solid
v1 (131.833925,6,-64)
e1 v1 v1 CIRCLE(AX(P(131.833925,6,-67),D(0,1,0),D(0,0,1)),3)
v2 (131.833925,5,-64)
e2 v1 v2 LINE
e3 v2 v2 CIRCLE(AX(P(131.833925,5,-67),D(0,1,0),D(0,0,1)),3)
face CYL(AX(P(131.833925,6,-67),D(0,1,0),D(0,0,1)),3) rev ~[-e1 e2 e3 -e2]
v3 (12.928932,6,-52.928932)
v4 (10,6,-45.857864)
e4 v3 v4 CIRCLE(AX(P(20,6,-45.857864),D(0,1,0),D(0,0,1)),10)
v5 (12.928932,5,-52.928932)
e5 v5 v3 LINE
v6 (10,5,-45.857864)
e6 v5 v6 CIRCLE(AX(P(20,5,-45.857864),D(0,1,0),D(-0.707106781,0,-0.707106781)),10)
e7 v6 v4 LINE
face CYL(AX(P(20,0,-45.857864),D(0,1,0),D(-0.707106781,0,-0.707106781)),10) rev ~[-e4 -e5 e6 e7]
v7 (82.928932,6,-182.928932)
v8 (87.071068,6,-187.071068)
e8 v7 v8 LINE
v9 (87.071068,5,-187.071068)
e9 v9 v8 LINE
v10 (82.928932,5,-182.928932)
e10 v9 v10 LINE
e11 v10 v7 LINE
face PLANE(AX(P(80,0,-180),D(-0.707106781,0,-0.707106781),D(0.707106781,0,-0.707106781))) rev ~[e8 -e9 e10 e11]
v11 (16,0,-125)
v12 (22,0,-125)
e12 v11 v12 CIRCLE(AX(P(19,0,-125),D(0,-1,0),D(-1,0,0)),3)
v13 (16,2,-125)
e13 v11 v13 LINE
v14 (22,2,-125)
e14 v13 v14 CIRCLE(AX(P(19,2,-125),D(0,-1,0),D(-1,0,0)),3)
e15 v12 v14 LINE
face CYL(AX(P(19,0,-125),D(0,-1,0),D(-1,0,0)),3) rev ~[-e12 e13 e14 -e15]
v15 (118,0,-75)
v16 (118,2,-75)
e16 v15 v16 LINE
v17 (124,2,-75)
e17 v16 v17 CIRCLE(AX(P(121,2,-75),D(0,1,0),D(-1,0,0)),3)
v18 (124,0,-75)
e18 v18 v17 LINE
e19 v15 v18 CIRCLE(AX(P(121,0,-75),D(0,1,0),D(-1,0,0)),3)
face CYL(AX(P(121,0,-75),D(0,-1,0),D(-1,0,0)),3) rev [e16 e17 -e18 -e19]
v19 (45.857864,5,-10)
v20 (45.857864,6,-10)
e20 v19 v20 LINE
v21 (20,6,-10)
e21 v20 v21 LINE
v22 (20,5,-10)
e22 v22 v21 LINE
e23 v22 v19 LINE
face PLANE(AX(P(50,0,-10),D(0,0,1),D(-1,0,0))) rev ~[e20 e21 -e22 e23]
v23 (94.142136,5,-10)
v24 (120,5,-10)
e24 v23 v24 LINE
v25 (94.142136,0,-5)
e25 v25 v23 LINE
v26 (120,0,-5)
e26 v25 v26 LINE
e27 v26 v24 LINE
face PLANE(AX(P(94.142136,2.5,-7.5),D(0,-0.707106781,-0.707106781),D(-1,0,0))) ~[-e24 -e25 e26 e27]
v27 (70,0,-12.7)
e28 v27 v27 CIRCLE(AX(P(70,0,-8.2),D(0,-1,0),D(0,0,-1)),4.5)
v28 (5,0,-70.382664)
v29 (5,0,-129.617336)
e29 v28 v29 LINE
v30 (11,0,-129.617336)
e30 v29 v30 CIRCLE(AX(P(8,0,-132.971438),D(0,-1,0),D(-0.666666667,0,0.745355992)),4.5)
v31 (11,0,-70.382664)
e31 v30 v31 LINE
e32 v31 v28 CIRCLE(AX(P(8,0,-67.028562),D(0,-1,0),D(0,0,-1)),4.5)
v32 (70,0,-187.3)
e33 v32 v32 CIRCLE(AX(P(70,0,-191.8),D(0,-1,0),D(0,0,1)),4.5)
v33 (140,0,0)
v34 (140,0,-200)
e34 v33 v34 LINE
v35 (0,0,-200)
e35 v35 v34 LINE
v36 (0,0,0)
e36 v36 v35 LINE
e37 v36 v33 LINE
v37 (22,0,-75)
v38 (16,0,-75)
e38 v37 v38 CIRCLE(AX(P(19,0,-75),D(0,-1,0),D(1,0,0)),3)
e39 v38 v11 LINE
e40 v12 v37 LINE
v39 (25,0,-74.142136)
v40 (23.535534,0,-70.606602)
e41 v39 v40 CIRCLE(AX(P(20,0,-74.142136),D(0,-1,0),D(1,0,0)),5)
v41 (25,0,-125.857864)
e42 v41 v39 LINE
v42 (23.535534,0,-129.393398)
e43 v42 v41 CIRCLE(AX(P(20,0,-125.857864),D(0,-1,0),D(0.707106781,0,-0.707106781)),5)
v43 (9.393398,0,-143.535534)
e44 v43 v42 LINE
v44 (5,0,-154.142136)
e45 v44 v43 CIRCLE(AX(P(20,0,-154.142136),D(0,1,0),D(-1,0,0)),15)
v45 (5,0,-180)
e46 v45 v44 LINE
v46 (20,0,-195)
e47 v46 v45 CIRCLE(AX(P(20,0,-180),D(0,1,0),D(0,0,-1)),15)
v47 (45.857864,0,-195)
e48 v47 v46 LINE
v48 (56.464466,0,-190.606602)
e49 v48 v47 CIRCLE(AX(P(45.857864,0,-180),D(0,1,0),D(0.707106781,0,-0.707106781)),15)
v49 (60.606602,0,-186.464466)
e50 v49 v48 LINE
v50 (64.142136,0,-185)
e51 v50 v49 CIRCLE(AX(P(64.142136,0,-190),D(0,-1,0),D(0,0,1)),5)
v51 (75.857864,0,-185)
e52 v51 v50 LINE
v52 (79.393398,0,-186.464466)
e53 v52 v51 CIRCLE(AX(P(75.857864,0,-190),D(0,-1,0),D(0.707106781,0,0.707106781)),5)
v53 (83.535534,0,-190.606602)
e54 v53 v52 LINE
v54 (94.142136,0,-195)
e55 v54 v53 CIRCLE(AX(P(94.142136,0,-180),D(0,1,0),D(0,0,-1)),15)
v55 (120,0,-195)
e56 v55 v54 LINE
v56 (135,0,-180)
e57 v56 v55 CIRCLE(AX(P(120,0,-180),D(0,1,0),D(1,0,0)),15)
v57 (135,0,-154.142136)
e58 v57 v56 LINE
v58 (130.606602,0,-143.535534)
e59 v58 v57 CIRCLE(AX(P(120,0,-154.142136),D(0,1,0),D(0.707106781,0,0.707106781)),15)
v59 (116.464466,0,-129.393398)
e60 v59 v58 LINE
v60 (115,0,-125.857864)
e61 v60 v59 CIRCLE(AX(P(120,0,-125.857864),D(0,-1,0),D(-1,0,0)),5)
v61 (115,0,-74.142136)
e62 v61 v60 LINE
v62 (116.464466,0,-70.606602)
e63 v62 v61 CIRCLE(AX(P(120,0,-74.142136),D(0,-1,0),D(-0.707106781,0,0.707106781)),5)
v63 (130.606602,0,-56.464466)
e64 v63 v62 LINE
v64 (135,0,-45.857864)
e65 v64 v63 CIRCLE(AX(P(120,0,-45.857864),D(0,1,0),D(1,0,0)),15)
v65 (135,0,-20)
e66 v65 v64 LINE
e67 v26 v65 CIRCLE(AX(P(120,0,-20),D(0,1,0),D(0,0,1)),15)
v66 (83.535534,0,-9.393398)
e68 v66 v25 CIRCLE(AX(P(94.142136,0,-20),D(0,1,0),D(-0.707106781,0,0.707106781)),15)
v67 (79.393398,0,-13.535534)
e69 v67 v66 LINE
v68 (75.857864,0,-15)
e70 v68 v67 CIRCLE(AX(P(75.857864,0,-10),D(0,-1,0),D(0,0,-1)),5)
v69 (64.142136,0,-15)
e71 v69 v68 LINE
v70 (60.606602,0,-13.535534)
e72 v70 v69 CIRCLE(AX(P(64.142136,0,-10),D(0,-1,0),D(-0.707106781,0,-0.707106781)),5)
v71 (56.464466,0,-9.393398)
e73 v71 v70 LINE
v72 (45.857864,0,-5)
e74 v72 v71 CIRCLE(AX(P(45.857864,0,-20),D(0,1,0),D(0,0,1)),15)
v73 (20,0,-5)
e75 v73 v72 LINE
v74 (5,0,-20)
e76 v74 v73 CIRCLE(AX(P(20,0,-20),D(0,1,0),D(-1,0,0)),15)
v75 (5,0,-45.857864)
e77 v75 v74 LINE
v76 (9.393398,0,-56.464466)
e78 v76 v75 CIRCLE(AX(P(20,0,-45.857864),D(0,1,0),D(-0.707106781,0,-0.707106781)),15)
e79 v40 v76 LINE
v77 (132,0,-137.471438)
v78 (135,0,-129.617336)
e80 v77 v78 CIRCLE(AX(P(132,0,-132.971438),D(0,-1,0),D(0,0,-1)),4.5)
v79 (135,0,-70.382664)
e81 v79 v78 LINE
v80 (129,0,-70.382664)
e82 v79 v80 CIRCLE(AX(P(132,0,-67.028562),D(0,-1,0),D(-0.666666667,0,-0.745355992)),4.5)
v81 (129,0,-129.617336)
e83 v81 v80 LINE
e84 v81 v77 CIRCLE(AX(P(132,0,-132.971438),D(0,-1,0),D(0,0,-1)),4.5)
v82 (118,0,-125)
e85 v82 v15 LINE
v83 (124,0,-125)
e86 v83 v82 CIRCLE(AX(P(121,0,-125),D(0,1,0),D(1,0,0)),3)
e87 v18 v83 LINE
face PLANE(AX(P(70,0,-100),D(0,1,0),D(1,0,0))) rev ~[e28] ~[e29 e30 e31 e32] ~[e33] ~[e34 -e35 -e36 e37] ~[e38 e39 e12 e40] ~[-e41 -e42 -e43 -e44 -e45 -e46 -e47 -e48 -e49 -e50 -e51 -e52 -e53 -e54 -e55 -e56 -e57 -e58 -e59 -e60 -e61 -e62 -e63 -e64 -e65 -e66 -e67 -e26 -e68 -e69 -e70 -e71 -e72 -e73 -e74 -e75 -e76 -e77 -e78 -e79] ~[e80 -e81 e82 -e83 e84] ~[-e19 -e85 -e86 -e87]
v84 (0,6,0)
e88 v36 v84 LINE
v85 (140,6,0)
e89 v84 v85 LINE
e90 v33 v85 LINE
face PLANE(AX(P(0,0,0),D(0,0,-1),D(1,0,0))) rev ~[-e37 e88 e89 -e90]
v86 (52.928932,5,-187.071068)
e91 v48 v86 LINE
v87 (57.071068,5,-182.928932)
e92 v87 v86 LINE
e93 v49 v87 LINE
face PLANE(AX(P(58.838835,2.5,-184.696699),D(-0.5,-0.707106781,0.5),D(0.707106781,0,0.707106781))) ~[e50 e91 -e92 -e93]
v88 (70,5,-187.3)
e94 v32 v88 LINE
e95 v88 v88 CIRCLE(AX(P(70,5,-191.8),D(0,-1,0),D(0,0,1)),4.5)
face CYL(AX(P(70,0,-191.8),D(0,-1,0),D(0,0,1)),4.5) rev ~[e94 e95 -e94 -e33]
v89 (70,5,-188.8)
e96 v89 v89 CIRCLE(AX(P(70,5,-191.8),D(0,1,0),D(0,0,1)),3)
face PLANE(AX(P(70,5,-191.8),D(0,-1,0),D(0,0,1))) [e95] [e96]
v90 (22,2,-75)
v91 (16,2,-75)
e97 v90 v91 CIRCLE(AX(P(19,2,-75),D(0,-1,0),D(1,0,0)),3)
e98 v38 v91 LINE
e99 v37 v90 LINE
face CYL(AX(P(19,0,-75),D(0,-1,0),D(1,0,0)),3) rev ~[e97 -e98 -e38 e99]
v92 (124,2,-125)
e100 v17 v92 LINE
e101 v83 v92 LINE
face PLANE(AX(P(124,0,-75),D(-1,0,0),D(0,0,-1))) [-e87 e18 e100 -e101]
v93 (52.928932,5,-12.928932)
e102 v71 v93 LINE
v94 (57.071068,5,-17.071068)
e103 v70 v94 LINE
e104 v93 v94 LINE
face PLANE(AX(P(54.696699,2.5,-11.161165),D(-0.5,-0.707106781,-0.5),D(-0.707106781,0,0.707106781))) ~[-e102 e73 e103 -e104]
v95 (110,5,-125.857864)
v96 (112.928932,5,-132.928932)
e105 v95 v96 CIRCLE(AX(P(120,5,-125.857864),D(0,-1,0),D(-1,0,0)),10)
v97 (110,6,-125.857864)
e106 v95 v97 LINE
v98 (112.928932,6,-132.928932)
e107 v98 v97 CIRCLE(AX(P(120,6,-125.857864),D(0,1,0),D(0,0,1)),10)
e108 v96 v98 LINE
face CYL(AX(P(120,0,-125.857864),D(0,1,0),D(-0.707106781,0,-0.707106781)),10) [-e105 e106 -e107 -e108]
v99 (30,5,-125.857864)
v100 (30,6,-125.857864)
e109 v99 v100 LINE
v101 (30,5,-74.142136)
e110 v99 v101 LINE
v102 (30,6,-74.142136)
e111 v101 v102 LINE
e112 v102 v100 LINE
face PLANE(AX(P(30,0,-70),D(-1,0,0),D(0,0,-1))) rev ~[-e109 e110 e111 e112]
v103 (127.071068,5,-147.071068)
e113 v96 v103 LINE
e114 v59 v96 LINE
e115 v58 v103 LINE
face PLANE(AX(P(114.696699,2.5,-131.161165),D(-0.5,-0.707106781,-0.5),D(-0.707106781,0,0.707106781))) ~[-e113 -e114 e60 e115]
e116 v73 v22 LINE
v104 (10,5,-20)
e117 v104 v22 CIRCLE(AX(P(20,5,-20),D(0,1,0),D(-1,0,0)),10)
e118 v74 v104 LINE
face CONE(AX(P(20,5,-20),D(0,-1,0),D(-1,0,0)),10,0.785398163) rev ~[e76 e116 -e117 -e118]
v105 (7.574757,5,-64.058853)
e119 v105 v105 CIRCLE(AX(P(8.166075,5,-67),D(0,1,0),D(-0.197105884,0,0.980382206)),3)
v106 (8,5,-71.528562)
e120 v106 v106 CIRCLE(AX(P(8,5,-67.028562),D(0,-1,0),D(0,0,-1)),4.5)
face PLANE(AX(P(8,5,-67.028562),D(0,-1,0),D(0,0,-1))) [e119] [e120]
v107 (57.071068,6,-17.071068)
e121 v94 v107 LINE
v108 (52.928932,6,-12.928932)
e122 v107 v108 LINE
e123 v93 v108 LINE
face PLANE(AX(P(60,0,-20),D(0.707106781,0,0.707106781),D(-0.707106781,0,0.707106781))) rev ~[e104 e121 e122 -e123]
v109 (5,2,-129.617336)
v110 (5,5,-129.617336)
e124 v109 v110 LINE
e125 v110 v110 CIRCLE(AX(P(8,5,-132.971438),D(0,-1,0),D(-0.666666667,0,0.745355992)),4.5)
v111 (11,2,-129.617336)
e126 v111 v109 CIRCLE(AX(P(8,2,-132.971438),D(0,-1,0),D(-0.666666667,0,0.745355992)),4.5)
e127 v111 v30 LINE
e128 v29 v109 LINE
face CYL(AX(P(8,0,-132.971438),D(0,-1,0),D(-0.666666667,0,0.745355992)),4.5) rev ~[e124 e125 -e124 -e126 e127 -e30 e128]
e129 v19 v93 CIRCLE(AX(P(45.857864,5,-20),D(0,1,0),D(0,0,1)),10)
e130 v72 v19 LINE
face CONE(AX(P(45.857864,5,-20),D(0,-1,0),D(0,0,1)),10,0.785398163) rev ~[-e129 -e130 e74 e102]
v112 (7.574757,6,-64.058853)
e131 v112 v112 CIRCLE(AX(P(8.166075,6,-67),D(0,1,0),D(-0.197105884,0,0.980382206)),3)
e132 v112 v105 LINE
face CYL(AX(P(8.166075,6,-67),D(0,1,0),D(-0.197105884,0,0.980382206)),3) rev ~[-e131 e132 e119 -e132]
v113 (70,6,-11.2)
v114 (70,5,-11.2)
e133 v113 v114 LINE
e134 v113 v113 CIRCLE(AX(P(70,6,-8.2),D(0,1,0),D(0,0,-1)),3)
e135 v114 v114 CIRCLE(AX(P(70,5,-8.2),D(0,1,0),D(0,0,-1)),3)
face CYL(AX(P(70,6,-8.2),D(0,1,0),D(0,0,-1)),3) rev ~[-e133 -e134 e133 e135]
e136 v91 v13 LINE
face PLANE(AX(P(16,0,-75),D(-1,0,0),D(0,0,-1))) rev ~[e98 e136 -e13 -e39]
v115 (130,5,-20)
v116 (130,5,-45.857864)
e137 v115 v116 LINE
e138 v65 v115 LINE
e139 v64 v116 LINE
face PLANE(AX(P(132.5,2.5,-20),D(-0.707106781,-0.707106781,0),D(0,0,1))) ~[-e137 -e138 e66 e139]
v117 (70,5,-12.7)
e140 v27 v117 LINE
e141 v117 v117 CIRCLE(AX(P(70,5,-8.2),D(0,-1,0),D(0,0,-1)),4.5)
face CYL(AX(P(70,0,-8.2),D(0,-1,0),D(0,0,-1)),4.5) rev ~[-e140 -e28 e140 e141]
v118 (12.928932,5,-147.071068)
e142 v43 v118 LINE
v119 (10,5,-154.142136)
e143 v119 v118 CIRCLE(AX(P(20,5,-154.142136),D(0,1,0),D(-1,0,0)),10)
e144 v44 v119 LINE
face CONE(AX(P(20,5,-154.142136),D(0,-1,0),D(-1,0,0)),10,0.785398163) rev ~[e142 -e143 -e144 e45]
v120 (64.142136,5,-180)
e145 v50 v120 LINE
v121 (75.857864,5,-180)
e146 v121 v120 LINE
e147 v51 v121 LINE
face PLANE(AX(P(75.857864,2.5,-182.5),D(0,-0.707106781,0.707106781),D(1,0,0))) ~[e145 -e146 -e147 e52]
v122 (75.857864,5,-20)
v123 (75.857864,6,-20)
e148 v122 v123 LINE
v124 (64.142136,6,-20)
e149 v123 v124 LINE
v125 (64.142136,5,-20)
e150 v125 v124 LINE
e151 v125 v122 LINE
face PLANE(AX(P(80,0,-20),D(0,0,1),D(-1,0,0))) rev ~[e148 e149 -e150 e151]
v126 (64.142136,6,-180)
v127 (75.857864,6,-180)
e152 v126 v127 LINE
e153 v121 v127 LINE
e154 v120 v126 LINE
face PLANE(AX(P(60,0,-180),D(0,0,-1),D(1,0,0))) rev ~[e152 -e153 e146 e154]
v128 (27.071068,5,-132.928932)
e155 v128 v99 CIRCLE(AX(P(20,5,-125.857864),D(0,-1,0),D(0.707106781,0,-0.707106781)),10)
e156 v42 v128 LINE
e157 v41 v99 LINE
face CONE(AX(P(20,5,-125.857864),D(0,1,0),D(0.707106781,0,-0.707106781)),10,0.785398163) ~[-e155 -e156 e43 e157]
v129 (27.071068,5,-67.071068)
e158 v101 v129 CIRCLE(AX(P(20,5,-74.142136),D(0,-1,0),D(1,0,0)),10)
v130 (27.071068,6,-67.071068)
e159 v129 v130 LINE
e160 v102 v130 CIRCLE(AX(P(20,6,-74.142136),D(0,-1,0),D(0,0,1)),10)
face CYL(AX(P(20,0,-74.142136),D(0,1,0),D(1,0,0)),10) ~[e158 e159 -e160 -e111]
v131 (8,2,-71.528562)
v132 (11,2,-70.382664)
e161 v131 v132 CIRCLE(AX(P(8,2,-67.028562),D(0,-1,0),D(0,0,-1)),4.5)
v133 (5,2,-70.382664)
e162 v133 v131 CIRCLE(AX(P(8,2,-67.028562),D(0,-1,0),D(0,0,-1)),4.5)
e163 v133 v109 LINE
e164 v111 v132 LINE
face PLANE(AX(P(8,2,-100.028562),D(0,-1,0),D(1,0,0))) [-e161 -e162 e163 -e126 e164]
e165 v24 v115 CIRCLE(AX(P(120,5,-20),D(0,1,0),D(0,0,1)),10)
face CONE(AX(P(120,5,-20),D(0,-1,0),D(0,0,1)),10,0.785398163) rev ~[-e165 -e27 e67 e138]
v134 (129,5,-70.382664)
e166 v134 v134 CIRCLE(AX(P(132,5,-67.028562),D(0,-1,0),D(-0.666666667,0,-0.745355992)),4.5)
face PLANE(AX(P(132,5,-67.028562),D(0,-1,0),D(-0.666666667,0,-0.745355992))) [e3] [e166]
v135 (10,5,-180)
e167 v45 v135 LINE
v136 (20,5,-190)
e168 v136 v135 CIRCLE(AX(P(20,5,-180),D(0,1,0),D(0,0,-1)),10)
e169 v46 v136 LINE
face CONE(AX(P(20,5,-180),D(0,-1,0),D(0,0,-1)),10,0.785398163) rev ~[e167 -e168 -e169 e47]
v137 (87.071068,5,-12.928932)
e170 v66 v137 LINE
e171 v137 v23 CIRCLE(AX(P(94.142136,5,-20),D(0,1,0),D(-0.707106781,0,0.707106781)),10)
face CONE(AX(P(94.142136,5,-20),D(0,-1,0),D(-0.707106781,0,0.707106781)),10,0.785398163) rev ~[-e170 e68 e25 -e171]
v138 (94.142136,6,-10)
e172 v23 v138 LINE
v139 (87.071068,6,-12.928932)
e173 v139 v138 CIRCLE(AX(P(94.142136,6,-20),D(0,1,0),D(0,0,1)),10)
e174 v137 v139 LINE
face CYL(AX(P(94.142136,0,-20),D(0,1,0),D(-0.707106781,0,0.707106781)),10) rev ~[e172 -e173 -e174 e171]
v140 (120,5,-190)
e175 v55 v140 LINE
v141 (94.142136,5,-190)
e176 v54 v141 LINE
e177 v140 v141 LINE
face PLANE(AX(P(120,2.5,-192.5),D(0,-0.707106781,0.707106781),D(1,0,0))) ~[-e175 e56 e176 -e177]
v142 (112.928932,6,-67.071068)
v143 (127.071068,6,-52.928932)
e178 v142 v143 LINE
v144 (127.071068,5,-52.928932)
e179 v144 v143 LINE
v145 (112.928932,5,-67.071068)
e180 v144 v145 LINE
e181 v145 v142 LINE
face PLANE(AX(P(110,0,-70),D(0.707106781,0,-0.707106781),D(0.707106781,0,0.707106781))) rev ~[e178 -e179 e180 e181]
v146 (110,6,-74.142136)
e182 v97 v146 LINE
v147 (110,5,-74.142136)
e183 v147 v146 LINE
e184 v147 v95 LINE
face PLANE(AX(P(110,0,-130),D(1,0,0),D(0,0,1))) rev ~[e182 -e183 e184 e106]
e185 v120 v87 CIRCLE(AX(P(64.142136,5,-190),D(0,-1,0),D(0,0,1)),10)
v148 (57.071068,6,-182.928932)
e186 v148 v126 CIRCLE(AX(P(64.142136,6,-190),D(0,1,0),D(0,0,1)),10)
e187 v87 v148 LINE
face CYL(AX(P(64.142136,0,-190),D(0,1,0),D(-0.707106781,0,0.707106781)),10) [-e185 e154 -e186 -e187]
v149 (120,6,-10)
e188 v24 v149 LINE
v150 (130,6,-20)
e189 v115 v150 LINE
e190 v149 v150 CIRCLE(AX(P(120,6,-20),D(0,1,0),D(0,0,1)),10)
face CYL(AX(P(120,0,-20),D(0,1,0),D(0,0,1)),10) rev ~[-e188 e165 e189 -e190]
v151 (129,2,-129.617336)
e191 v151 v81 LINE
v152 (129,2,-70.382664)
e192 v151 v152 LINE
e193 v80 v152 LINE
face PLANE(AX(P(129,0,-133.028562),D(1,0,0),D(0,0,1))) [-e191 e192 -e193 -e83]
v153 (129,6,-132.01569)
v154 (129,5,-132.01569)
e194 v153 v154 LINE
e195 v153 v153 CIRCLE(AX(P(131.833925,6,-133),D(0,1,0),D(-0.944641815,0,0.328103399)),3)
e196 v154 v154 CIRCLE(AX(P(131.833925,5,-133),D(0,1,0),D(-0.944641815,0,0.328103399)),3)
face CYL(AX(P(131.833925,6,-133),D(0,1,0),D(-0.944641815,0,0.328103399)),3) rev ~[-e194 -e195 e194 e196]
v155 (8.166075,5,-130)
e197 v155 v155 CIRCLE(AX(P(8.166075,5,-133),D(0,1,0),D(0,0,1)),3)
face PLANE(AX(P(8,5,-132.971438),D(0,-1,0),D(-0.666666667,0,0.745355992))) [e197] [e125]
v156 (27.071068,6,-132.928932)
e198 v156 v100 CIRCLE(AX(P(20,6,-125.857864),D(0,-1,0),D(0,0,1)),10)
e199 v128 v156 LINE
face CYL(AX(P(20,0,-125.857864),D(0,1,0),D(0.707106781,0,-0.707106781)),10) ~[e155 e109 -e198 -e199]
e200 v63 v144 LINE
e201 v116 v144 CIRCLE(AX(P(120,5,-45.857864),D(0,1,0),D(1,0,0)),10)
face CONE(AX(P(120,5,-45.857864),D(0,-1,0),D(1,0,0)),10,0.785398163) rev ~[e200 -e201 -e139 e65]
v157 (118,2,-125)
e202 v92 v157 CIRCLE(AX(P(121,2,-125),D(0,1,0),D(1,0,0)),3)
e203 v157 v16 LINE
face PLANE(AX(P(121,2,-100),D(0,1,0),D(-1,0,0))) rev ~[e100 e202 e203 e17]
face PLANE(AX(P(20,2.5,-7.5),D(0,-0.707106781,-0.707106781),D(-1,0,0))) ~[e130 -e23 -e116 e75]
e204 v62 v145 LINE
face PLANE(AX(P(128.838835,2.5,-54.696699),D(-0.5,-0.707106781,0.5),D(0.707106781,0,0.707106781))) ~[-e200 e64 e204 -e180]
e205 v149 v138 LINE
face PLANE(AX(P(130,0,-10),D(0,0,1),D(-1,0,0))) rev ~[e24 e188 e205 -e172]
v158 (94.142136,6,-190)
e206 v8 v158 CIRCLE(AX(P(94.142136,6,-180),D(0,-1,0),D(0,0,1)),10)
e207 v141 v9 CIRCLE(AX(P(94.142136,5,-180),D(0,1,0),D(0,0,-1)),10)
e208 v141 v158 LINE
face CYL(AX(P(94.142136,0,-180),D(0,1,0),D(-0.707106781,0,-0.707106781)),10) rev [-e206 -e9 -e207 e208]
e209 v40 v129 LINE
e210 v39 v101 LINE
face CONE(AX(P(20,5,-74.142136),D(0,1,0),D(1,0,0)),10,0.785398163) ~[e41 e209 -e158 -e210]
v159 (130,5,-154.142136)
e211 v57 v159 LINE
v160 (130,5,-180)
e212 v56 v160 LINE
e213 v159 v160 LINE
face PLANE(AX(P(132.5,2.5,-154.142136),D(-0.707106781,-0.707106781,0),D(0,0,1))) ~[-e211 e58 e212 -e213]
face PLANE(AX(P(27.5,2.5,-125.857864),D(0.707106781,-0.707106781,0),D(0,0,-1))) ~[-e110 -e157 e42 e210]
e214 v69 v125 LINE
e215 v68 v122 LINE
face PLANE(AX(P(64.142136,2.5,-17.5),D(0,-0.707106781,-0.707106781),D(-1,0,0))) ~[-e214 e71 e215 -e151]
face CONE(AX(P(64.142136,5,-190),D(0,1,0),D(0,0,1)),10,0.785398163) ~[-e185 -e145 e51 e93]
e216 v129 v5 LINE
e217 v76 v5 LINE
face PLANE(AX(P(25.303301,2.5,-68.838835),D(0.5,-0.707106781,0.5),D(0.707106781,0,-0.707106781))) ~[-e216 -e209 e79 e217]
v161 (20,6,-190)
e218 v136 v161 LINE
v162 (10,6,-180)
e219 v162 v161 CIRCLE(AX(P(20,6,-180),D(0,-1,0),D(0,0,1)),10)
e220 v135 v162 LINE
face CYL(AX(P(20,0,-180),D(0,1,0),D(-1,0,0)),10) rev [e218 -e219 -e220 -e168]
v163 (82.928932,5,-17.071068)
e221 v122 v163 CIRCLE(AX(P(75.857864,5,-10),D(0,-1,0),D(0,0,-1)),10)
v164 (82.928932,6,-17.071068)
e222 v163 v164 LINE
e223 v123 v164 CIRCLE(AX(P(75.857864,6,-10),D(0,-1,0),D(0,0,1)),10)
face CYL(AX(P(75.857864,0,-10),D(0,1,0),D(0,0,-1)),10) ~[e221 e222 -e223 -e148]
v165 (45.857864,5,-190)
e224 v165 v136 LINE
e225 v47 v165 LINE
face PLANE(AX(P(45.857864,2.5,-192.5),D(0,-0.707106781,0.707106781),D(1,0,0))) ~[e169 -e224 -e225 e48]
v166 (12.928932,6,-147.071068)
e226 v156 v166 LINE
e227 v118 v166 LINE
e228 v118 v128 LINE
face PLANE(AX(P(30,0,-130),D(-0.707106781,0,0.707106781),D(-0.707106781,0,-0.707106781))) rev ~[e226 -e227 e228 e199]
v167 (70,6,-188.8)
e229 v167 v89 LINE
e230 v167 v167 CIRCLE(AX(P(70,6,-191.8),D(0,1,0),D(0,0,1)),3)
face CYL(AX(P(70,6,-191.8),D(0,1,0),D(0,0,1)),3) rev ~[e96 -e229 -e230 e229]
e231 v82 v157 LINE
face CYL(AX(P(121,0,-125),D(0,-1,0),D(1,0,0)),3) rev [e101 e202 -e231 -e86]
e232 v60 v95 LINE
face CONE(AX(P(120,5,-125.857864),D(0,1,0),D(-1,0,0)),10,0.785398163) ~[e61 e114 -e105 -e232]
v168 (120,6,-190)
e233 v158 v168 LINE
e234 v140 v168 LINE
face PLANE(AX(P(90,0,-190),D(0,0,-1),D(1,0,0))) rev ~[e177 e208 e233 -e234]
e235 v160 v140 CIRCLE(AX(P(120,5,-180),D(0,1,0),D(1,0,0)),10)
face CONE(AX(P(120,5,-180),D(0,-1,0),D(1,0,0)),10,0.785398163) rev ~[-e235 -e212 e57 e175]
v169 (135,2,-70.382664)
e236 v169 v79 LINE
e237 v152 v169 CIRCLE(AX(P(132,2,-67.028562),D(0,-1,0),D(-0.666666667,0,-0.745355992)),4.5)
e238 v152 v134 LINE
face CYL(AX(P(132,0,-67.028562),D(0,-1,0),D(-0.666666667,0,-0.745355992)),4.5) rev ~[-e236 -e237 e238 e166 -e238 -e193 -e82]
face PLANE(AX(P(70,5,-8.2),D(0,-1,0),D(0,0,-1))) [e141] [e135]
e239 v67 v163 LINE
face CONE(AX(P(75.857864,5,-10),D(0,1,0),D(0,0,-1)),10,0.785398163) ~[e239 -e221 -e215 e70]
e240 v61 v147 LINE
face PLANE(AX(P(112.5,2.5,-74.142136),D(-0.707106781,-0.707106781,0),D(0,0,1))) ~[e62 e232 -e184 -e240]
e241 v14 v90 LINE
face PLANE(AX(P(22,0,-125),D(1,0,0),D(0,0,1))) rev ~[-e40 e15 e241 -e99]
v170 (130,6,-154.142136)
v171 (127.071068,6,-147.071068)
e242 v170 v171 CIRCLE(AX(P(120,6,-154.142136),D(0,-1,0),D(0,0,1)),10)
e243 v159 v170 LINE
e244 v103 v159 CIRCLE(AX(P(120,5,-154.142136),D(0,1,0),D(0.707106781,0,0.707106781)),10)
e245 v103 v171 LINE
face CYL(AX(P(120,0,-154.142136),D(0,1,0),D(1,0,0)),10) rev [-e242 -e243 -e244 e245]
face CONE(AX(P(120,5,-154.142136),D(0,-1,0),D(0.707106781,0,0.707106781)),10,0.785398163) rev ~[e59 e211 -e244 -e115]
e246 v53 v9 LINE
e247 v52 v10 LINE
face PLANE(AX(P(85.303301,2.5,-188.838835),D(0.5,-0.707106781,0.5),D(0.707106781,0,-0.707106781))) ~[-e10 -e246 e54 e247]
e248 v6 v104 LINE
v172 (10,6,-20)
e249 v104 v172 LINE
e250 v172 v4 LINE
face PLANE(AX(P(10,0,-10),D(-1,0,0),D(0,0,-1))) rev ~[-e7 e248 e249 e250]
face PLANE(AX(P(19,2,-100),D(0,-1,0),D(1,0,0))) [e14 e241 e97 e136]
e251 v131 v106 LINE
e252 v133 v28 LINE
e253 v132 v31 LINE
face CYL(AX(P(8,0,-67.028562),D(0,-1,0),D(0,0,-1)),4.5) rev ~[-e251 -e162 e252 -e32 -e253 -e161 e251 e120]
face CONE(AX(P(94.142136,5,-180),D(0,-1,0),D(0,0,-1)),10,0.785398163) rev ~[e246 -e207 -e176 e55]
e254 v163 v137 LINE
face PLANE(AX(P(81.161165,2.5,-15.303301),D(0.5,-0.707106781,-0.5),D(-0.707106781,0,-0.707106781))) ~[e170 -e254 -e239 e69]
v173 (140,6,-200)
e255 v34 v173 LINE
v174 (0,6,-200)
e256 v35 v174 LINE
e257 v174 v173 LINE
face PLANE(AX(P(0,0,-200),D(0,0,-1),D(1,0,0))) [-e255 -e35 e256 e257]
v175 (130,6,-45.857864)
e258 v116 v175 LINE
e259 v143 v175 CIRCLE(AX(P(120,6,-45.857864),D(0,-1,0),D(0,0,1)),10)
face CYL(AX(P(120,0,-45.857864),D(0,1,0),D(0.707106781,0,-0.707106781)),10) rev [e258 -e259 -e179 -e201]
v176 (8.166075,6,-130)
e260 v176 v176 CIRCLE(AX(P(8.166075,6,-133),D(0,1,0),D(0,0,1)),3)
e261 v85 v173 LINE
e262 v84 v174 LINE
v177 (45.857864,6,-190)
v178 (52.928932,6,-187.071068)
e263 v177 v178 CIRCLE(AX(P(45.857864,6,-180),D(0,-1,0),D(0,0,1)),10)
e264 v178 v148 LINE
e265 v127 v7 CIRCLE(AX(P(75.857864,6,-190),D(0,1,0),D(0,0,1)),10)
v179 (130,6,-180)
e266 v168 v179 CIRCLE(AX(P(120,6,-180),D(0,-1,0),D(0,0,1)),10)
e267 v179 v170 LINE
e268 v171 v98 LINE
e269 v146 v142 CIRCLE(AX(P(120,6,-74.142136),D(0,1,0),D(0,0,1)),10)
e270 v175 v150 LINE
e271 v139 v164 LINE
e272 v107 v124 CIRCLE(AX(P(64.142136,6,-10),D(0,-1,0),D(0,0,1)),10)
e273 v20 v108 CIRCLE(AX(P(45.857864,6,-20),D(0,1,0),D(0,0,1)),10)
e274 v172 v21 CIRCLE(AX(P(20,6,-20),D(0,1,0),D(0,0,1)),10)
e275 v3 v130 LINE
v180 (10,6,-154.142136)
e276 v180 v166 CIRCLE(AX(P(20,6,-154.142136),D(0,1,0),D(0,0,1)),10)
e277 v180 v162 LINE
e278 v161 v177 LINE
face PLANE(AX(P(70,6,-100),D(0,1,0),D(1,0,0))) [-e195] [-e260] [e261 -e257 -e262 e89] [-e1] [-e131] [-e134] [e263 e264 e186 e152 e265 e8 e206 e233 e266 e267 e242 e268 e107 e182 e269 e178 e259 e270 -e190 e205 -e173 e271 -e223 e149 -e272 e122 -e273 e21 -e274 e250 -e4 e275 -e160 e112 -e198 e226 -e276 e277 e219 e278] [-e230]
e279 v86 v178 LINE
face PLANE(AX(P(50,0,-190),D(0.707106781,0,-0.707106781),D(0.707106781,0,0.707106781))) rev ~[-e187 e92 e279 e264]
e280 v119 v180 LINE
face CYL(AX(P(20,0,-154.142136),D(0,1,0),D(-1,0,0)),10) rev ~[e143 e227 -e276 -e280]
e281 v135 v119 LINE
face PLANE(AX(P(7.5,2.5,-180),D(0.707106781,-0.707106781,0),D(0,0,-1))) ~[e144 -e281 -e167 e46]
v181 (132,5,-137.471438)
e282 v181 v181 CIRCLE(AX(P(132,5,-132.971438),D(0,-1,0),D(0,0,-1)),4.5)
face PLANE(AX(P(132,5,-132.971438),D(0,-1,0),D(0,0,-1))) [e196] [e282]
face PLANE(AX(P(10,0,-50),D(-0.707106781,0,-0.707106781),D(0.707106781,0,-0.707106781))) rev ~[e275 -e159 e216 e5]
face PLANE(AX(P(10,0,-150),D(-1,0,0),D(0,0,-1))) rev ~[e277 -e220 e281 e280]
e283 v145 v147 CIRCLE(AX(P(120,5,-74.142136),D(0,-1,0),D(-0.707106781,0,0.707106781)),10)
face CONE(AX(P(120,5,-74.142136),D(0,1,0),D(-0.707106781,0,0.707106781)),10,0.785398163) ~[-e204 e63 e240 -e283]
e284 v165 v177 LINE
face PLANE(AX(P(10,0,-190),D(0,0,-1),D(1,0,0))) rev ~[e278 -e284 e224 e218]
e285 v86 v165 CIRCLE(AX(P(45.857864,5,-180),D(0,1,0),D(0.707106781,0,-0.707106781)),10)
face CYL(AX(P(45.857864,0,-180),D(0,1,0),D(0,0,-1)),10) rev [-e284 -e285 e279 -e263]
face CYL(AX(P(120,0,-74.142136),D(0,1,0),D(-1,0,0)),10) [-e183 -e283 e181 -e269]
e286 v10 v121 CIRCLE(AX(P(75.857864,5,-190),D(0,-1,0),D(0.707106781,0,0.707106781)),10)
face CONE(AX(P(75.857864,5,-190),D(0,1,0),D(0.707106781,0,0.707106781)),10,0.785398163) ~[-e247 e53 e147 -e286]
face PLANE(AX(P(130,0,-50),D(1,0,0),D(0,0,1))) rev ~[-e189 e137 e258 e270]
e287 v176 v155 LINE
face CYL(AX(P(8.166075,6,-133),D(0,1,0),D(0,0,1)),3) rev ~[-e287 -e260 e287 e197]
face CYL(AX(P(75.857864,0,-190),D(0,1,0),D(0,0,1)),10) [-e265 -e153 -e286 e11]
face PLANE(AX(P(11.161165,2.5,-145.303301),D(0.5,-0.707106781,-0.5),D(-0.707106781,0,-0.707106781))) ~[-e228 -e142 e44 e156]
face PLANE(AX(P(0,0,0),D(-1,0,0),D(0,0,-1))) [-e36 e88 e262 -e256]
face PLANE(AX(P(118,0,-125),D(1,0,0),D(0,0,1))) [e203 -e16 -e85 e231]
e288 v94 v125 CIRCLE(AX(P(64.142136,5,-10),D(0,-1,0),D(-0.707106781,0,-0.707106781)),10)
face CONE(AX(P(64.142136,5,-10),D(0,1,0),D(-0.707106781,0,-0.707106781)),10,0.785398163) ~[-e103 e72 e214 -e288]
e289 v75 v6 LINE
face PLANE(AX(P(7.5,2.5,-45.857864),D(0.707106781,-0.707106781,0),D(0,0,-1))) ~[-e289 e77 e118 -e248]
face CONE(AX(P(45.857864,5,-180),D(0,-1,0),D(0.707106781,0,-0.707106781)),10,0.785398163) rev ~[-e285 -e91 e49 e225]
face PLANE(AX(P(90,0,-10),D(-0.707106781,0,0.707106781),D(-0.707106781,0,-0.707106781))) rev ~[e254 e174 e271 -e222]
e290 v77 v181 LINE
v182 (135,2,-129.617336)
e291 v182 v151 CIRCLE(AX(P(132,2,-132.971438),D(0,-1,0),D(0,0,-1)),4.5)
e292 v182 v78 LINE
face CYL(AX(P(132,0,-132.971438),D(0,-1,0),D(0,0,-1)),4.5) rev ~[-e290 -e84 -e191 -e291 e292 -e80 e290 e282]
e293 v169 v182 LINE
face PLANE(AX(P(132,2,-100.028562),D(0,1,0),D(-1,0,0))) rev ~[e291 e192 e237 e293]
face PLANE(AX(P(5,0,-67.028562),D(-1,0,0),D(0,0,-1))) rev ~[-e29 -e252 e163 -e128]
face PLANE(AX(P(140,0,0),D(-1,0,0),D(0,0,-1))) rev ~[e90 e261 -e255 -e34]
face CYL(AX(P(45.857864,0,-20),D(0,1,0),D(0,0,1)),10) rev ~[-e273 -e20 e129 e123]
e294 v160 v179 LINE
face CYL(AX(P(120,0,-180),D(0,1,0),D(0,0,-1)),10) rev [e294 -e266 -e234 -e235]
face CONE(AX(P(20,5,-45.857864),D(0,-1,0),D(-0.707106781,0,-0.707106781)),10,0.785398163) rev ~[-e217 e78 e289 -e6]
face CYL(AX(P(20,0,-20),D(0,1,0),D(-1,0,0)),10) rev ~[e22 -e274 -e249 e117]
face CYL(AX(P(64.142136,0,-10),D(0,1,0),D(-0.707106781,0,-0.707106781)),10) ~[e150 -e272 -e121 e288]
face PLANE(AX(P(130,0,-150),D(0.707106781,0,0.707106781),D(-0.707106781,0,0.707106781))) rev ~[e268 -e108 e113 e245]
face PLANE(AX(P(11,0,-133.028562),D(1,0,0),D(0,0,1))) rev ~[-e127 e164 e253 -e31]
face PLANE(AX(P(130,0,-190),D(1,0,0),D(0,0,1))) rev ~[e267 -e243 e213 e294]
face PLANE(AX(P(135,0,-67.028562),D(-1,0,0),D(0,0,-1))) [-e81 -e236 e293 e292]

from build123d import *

# Parameters (mm, degrees)
SKETCH1_W           = 140
SKETCH1_H           = 200
BOSS_EXTRUDE1_DEPTH = 6
FILLET1_R           = 10
FILLET2_R           = 10
CHAMFER4_SIZE       = 5
CUT_EXTRUDE1_DEPTH  = 2
SKETCH7_R           = 3
CUT_EXTRUDE3_DEPTH  = 10
SKETCH8_R           = 4.5
CUT_EXTRUDE4_DEPTH  = 5


with BuildPart() as part:
    # Sketch1 → Boss-Extrude1 (new body)
    with BuildSketch(Plane(origin=(0, 0, 0), x_dir=(1, 0, 0), z_dir=(0, 1, 0))):
        with Locations((70, 100)):
            Rectangle(SKETCH1_W, SKETCH1_H)
        Polygon((10, 190), (50, 190), (60, 180), (80, 180), (90, 190), (130, 190), (130, 150), (110, 130), (110, 70), (130, 50), (130, 10), (90, 10), (80, 20), (60, 20), (50, 10), (10, 10), (10, 50), (30, 70), (30, 130), (10, 150), align=None, mode=Mode.SUBTRACT)
    extrude(amount=BOSS_EXTRUDE1_DEPTH)

    # Fillet1
    fillet1_edges = [part.edges().sort_by_distance(p)[0] for p in [
        (10, 3, -190),
    ]]
    fillet(fillet1_edges, radius=FILLET1_R)

    # Fillet2
    fillet2_edges = [part.edges().sort_by_distance(p)[0] for p in [
        (10, 3, -150),
        (30, 3, -130),
        (30, 3, -70),
        (10, 3, -50),
        (10, 3, -10),
        (50, 3, -10),
        (60, 3, -20),
        (80, 3, -20),
        (90, 3, -10),
        (130, 3, -10),
        (130, 3, -50),
        (110, 3, -70),
        (110, 3, -130),
        (130, 3, -150),
        (130, 3, -190),
        (90, 3, -190),
        (80, 3, -180),
        (60, 3, -180),
        (50, 3, -190),
    ]]
    fillet(fillet2_edges, radius=FILLET2_R)

    # Chamfer4
    chamfer4_edges = [part.edges().sort_by_distance(p)[0] for p in [
        (79.6846987, 0, -19.238795325),
        (60.3153013, 0, -19.238795325),
        (29.238795325, 0, -70.3153013),
        (29.238795325, 0, -129.6846987),
        (10.761204675, 0, -150.3153013),
        (10.761204675, 0, -49.6846987),
        (12.928932188, 0, -12.928932188),
        (49.6846987, 0, -10.761204675),
        (90.3153013, 0, -10.761204675),
        (127.071067812, 0, -12.928932188),
        (129.238795325, 0, -49.6846987),
        (129.238795325, 0, -150.3153013),
        (127.071067812, 0, -187.071067812),
        (90.3153013, 0, -189.238795325),
        (49.6846987, 0, -189.238795325),
        (10, 0, -167.071067812),
        (12.928932188, 0, -187.071067812),
        (20, 0, -140),
        (32.928932188, 0, -190),
        (30, 0, -100),
        (20, 0, -60),
        (10, 0, -32.928932188),
        (32.928932188, 0, -10),
        (55, 0, -15),
        (70, 0, -20),
        (85, 0, -15),
        (107.071067812, 0, -10),
        (130, 0, -32.928932188),
        (120, 0, -60),
        (110, 0, -100),
        (120, 0, -140),
        (130, 0, -167.071067812),
        (107.071067812, 0, -190),
        (85, 0, -185),
        (70, 0, -180),
        (55, 0, -185),
        (60.3153013, 0, -180.761204675),
        (79.6846987, 0, -180.761204675),
        (110.761204675, 0, -129.6846987),
        (110.761204675, 0, -70.3153013),
    ]]
    chamfer(chamfer4_edges, length=CHAMFER4_SIZE)

    # Sketch6 → Cut-Extrude1 (cut)
    with BuildSketch(Plane.XZ):
        with BuildLine():
            Line((118, -125), (118, -75))
            ThreePointArc((118, -75), (121, -72), (124, -75))
            Line((124, -75), (124, -125))
            ThreePointArc((124, -125), (121, -128), (118, -125))
        make_face()
        with BuildLine():
            Line((129, -133.028561836), (129, -67.028561836))
            ThreePointArc((129, -67.028561836), (132, -64.028561836), (135, -67.028561836))
            Line((135, -67.028561836), (135, -133.028561836))
            ThreePointArc((135, -133.028561836), (132, -136.028561836), (129, -133.028561836))
        make_face()
        with BuildLine():
            Line((22, -125), (22, -75))
            ThreePointArc((22, -75), (19, -72), (16, -75))
            Line((16, -75), (16, -125))
            ThreePointArc((16, -125), (19, -128), (22, -125))
        make_face()
        with BuildLine():
            Line((11, -133.028561836), (11, -67.028561836))
            ThreePointArc((11, -67.028561836), (8, -64.028561836), (5, -67.028561836))
            Line((5, -67.028561836), (5, -133.028561836))
            ThreePointArc((5, -133.028561836), (8, -136.028561836), (11, -133.028561836))
        make_face()
    extrude(amount=-CUT_EXTRUDE1_DEPTH, mode=Mode.SUBTRACT)

    # Sketch7 → Cut-Extrude3 (cut)
    with BuildSketch(Plane(origin=(0, 6, 0), x_dir=(1, 0, 0), z_dir=(0, 1, 0))):
        with Locations(Location((70, 191.8, 0), (0, 0, 270))):
            Circle(SKETCH7_R)
        with Locations(Location((8.166074554, 133, 0), (0, 0, 270))):
            Circle(SKETCH7_R)
        with Locations(Location((70, 8.2, 0), (0, 0, 90))):
            Circle(SKETCH7_R)
        with Locations(Location((8.166074554, 67, 0), (0, 0, 258.632230209))):
            Circle(SKETCH7_R)
        with Locations(Location((131.833925446, 67, 0), (0, 0, 270))):
            Circle(SKETCH7_R)
        with Locations(Location((131.833925446, 133, 0), (0, 0, 199.153699919))):
            Circle(SKETCH7_R)
    extrude(amount=-CUT_EXTRUDE3_DEPTH, mode=Mode.SUBTRACT)

    # Sketch8 → Cut-Extrude4 (cut)
    with BuildSketch(Plane.XZ):
        with Locations(Location((70, -8.2, 0), (0, 0, 270))):
            Circle(SKETCH8_R)
        with Locations(Location((8, -67.028561836, 0), (0, 0, 270))):
            Circle(SKETCH8_R)
        with Locations(Location((132, -67.028561836, 0), (0, 0, 228.189685104))):
            Circle(SKETCH8_R)
        with Locations(Location((8, -132.971438164, 0), (0, 0, 131.810314896))):
            Circle(SKETCH8_R)
        with Locations(Location((70, -191.8, 0), (0, 0, 90))):
            Circle(SKETCH8_R)
        with Locations(Location((132, -132.971438164, 0), (0, 0, 270))):
            Circle(SKETCH8_R)
    extrude(amount=-CUT_EXTRUDE4_DEPTH, mode=Mode.SUBTRACT)


solid = part.part
